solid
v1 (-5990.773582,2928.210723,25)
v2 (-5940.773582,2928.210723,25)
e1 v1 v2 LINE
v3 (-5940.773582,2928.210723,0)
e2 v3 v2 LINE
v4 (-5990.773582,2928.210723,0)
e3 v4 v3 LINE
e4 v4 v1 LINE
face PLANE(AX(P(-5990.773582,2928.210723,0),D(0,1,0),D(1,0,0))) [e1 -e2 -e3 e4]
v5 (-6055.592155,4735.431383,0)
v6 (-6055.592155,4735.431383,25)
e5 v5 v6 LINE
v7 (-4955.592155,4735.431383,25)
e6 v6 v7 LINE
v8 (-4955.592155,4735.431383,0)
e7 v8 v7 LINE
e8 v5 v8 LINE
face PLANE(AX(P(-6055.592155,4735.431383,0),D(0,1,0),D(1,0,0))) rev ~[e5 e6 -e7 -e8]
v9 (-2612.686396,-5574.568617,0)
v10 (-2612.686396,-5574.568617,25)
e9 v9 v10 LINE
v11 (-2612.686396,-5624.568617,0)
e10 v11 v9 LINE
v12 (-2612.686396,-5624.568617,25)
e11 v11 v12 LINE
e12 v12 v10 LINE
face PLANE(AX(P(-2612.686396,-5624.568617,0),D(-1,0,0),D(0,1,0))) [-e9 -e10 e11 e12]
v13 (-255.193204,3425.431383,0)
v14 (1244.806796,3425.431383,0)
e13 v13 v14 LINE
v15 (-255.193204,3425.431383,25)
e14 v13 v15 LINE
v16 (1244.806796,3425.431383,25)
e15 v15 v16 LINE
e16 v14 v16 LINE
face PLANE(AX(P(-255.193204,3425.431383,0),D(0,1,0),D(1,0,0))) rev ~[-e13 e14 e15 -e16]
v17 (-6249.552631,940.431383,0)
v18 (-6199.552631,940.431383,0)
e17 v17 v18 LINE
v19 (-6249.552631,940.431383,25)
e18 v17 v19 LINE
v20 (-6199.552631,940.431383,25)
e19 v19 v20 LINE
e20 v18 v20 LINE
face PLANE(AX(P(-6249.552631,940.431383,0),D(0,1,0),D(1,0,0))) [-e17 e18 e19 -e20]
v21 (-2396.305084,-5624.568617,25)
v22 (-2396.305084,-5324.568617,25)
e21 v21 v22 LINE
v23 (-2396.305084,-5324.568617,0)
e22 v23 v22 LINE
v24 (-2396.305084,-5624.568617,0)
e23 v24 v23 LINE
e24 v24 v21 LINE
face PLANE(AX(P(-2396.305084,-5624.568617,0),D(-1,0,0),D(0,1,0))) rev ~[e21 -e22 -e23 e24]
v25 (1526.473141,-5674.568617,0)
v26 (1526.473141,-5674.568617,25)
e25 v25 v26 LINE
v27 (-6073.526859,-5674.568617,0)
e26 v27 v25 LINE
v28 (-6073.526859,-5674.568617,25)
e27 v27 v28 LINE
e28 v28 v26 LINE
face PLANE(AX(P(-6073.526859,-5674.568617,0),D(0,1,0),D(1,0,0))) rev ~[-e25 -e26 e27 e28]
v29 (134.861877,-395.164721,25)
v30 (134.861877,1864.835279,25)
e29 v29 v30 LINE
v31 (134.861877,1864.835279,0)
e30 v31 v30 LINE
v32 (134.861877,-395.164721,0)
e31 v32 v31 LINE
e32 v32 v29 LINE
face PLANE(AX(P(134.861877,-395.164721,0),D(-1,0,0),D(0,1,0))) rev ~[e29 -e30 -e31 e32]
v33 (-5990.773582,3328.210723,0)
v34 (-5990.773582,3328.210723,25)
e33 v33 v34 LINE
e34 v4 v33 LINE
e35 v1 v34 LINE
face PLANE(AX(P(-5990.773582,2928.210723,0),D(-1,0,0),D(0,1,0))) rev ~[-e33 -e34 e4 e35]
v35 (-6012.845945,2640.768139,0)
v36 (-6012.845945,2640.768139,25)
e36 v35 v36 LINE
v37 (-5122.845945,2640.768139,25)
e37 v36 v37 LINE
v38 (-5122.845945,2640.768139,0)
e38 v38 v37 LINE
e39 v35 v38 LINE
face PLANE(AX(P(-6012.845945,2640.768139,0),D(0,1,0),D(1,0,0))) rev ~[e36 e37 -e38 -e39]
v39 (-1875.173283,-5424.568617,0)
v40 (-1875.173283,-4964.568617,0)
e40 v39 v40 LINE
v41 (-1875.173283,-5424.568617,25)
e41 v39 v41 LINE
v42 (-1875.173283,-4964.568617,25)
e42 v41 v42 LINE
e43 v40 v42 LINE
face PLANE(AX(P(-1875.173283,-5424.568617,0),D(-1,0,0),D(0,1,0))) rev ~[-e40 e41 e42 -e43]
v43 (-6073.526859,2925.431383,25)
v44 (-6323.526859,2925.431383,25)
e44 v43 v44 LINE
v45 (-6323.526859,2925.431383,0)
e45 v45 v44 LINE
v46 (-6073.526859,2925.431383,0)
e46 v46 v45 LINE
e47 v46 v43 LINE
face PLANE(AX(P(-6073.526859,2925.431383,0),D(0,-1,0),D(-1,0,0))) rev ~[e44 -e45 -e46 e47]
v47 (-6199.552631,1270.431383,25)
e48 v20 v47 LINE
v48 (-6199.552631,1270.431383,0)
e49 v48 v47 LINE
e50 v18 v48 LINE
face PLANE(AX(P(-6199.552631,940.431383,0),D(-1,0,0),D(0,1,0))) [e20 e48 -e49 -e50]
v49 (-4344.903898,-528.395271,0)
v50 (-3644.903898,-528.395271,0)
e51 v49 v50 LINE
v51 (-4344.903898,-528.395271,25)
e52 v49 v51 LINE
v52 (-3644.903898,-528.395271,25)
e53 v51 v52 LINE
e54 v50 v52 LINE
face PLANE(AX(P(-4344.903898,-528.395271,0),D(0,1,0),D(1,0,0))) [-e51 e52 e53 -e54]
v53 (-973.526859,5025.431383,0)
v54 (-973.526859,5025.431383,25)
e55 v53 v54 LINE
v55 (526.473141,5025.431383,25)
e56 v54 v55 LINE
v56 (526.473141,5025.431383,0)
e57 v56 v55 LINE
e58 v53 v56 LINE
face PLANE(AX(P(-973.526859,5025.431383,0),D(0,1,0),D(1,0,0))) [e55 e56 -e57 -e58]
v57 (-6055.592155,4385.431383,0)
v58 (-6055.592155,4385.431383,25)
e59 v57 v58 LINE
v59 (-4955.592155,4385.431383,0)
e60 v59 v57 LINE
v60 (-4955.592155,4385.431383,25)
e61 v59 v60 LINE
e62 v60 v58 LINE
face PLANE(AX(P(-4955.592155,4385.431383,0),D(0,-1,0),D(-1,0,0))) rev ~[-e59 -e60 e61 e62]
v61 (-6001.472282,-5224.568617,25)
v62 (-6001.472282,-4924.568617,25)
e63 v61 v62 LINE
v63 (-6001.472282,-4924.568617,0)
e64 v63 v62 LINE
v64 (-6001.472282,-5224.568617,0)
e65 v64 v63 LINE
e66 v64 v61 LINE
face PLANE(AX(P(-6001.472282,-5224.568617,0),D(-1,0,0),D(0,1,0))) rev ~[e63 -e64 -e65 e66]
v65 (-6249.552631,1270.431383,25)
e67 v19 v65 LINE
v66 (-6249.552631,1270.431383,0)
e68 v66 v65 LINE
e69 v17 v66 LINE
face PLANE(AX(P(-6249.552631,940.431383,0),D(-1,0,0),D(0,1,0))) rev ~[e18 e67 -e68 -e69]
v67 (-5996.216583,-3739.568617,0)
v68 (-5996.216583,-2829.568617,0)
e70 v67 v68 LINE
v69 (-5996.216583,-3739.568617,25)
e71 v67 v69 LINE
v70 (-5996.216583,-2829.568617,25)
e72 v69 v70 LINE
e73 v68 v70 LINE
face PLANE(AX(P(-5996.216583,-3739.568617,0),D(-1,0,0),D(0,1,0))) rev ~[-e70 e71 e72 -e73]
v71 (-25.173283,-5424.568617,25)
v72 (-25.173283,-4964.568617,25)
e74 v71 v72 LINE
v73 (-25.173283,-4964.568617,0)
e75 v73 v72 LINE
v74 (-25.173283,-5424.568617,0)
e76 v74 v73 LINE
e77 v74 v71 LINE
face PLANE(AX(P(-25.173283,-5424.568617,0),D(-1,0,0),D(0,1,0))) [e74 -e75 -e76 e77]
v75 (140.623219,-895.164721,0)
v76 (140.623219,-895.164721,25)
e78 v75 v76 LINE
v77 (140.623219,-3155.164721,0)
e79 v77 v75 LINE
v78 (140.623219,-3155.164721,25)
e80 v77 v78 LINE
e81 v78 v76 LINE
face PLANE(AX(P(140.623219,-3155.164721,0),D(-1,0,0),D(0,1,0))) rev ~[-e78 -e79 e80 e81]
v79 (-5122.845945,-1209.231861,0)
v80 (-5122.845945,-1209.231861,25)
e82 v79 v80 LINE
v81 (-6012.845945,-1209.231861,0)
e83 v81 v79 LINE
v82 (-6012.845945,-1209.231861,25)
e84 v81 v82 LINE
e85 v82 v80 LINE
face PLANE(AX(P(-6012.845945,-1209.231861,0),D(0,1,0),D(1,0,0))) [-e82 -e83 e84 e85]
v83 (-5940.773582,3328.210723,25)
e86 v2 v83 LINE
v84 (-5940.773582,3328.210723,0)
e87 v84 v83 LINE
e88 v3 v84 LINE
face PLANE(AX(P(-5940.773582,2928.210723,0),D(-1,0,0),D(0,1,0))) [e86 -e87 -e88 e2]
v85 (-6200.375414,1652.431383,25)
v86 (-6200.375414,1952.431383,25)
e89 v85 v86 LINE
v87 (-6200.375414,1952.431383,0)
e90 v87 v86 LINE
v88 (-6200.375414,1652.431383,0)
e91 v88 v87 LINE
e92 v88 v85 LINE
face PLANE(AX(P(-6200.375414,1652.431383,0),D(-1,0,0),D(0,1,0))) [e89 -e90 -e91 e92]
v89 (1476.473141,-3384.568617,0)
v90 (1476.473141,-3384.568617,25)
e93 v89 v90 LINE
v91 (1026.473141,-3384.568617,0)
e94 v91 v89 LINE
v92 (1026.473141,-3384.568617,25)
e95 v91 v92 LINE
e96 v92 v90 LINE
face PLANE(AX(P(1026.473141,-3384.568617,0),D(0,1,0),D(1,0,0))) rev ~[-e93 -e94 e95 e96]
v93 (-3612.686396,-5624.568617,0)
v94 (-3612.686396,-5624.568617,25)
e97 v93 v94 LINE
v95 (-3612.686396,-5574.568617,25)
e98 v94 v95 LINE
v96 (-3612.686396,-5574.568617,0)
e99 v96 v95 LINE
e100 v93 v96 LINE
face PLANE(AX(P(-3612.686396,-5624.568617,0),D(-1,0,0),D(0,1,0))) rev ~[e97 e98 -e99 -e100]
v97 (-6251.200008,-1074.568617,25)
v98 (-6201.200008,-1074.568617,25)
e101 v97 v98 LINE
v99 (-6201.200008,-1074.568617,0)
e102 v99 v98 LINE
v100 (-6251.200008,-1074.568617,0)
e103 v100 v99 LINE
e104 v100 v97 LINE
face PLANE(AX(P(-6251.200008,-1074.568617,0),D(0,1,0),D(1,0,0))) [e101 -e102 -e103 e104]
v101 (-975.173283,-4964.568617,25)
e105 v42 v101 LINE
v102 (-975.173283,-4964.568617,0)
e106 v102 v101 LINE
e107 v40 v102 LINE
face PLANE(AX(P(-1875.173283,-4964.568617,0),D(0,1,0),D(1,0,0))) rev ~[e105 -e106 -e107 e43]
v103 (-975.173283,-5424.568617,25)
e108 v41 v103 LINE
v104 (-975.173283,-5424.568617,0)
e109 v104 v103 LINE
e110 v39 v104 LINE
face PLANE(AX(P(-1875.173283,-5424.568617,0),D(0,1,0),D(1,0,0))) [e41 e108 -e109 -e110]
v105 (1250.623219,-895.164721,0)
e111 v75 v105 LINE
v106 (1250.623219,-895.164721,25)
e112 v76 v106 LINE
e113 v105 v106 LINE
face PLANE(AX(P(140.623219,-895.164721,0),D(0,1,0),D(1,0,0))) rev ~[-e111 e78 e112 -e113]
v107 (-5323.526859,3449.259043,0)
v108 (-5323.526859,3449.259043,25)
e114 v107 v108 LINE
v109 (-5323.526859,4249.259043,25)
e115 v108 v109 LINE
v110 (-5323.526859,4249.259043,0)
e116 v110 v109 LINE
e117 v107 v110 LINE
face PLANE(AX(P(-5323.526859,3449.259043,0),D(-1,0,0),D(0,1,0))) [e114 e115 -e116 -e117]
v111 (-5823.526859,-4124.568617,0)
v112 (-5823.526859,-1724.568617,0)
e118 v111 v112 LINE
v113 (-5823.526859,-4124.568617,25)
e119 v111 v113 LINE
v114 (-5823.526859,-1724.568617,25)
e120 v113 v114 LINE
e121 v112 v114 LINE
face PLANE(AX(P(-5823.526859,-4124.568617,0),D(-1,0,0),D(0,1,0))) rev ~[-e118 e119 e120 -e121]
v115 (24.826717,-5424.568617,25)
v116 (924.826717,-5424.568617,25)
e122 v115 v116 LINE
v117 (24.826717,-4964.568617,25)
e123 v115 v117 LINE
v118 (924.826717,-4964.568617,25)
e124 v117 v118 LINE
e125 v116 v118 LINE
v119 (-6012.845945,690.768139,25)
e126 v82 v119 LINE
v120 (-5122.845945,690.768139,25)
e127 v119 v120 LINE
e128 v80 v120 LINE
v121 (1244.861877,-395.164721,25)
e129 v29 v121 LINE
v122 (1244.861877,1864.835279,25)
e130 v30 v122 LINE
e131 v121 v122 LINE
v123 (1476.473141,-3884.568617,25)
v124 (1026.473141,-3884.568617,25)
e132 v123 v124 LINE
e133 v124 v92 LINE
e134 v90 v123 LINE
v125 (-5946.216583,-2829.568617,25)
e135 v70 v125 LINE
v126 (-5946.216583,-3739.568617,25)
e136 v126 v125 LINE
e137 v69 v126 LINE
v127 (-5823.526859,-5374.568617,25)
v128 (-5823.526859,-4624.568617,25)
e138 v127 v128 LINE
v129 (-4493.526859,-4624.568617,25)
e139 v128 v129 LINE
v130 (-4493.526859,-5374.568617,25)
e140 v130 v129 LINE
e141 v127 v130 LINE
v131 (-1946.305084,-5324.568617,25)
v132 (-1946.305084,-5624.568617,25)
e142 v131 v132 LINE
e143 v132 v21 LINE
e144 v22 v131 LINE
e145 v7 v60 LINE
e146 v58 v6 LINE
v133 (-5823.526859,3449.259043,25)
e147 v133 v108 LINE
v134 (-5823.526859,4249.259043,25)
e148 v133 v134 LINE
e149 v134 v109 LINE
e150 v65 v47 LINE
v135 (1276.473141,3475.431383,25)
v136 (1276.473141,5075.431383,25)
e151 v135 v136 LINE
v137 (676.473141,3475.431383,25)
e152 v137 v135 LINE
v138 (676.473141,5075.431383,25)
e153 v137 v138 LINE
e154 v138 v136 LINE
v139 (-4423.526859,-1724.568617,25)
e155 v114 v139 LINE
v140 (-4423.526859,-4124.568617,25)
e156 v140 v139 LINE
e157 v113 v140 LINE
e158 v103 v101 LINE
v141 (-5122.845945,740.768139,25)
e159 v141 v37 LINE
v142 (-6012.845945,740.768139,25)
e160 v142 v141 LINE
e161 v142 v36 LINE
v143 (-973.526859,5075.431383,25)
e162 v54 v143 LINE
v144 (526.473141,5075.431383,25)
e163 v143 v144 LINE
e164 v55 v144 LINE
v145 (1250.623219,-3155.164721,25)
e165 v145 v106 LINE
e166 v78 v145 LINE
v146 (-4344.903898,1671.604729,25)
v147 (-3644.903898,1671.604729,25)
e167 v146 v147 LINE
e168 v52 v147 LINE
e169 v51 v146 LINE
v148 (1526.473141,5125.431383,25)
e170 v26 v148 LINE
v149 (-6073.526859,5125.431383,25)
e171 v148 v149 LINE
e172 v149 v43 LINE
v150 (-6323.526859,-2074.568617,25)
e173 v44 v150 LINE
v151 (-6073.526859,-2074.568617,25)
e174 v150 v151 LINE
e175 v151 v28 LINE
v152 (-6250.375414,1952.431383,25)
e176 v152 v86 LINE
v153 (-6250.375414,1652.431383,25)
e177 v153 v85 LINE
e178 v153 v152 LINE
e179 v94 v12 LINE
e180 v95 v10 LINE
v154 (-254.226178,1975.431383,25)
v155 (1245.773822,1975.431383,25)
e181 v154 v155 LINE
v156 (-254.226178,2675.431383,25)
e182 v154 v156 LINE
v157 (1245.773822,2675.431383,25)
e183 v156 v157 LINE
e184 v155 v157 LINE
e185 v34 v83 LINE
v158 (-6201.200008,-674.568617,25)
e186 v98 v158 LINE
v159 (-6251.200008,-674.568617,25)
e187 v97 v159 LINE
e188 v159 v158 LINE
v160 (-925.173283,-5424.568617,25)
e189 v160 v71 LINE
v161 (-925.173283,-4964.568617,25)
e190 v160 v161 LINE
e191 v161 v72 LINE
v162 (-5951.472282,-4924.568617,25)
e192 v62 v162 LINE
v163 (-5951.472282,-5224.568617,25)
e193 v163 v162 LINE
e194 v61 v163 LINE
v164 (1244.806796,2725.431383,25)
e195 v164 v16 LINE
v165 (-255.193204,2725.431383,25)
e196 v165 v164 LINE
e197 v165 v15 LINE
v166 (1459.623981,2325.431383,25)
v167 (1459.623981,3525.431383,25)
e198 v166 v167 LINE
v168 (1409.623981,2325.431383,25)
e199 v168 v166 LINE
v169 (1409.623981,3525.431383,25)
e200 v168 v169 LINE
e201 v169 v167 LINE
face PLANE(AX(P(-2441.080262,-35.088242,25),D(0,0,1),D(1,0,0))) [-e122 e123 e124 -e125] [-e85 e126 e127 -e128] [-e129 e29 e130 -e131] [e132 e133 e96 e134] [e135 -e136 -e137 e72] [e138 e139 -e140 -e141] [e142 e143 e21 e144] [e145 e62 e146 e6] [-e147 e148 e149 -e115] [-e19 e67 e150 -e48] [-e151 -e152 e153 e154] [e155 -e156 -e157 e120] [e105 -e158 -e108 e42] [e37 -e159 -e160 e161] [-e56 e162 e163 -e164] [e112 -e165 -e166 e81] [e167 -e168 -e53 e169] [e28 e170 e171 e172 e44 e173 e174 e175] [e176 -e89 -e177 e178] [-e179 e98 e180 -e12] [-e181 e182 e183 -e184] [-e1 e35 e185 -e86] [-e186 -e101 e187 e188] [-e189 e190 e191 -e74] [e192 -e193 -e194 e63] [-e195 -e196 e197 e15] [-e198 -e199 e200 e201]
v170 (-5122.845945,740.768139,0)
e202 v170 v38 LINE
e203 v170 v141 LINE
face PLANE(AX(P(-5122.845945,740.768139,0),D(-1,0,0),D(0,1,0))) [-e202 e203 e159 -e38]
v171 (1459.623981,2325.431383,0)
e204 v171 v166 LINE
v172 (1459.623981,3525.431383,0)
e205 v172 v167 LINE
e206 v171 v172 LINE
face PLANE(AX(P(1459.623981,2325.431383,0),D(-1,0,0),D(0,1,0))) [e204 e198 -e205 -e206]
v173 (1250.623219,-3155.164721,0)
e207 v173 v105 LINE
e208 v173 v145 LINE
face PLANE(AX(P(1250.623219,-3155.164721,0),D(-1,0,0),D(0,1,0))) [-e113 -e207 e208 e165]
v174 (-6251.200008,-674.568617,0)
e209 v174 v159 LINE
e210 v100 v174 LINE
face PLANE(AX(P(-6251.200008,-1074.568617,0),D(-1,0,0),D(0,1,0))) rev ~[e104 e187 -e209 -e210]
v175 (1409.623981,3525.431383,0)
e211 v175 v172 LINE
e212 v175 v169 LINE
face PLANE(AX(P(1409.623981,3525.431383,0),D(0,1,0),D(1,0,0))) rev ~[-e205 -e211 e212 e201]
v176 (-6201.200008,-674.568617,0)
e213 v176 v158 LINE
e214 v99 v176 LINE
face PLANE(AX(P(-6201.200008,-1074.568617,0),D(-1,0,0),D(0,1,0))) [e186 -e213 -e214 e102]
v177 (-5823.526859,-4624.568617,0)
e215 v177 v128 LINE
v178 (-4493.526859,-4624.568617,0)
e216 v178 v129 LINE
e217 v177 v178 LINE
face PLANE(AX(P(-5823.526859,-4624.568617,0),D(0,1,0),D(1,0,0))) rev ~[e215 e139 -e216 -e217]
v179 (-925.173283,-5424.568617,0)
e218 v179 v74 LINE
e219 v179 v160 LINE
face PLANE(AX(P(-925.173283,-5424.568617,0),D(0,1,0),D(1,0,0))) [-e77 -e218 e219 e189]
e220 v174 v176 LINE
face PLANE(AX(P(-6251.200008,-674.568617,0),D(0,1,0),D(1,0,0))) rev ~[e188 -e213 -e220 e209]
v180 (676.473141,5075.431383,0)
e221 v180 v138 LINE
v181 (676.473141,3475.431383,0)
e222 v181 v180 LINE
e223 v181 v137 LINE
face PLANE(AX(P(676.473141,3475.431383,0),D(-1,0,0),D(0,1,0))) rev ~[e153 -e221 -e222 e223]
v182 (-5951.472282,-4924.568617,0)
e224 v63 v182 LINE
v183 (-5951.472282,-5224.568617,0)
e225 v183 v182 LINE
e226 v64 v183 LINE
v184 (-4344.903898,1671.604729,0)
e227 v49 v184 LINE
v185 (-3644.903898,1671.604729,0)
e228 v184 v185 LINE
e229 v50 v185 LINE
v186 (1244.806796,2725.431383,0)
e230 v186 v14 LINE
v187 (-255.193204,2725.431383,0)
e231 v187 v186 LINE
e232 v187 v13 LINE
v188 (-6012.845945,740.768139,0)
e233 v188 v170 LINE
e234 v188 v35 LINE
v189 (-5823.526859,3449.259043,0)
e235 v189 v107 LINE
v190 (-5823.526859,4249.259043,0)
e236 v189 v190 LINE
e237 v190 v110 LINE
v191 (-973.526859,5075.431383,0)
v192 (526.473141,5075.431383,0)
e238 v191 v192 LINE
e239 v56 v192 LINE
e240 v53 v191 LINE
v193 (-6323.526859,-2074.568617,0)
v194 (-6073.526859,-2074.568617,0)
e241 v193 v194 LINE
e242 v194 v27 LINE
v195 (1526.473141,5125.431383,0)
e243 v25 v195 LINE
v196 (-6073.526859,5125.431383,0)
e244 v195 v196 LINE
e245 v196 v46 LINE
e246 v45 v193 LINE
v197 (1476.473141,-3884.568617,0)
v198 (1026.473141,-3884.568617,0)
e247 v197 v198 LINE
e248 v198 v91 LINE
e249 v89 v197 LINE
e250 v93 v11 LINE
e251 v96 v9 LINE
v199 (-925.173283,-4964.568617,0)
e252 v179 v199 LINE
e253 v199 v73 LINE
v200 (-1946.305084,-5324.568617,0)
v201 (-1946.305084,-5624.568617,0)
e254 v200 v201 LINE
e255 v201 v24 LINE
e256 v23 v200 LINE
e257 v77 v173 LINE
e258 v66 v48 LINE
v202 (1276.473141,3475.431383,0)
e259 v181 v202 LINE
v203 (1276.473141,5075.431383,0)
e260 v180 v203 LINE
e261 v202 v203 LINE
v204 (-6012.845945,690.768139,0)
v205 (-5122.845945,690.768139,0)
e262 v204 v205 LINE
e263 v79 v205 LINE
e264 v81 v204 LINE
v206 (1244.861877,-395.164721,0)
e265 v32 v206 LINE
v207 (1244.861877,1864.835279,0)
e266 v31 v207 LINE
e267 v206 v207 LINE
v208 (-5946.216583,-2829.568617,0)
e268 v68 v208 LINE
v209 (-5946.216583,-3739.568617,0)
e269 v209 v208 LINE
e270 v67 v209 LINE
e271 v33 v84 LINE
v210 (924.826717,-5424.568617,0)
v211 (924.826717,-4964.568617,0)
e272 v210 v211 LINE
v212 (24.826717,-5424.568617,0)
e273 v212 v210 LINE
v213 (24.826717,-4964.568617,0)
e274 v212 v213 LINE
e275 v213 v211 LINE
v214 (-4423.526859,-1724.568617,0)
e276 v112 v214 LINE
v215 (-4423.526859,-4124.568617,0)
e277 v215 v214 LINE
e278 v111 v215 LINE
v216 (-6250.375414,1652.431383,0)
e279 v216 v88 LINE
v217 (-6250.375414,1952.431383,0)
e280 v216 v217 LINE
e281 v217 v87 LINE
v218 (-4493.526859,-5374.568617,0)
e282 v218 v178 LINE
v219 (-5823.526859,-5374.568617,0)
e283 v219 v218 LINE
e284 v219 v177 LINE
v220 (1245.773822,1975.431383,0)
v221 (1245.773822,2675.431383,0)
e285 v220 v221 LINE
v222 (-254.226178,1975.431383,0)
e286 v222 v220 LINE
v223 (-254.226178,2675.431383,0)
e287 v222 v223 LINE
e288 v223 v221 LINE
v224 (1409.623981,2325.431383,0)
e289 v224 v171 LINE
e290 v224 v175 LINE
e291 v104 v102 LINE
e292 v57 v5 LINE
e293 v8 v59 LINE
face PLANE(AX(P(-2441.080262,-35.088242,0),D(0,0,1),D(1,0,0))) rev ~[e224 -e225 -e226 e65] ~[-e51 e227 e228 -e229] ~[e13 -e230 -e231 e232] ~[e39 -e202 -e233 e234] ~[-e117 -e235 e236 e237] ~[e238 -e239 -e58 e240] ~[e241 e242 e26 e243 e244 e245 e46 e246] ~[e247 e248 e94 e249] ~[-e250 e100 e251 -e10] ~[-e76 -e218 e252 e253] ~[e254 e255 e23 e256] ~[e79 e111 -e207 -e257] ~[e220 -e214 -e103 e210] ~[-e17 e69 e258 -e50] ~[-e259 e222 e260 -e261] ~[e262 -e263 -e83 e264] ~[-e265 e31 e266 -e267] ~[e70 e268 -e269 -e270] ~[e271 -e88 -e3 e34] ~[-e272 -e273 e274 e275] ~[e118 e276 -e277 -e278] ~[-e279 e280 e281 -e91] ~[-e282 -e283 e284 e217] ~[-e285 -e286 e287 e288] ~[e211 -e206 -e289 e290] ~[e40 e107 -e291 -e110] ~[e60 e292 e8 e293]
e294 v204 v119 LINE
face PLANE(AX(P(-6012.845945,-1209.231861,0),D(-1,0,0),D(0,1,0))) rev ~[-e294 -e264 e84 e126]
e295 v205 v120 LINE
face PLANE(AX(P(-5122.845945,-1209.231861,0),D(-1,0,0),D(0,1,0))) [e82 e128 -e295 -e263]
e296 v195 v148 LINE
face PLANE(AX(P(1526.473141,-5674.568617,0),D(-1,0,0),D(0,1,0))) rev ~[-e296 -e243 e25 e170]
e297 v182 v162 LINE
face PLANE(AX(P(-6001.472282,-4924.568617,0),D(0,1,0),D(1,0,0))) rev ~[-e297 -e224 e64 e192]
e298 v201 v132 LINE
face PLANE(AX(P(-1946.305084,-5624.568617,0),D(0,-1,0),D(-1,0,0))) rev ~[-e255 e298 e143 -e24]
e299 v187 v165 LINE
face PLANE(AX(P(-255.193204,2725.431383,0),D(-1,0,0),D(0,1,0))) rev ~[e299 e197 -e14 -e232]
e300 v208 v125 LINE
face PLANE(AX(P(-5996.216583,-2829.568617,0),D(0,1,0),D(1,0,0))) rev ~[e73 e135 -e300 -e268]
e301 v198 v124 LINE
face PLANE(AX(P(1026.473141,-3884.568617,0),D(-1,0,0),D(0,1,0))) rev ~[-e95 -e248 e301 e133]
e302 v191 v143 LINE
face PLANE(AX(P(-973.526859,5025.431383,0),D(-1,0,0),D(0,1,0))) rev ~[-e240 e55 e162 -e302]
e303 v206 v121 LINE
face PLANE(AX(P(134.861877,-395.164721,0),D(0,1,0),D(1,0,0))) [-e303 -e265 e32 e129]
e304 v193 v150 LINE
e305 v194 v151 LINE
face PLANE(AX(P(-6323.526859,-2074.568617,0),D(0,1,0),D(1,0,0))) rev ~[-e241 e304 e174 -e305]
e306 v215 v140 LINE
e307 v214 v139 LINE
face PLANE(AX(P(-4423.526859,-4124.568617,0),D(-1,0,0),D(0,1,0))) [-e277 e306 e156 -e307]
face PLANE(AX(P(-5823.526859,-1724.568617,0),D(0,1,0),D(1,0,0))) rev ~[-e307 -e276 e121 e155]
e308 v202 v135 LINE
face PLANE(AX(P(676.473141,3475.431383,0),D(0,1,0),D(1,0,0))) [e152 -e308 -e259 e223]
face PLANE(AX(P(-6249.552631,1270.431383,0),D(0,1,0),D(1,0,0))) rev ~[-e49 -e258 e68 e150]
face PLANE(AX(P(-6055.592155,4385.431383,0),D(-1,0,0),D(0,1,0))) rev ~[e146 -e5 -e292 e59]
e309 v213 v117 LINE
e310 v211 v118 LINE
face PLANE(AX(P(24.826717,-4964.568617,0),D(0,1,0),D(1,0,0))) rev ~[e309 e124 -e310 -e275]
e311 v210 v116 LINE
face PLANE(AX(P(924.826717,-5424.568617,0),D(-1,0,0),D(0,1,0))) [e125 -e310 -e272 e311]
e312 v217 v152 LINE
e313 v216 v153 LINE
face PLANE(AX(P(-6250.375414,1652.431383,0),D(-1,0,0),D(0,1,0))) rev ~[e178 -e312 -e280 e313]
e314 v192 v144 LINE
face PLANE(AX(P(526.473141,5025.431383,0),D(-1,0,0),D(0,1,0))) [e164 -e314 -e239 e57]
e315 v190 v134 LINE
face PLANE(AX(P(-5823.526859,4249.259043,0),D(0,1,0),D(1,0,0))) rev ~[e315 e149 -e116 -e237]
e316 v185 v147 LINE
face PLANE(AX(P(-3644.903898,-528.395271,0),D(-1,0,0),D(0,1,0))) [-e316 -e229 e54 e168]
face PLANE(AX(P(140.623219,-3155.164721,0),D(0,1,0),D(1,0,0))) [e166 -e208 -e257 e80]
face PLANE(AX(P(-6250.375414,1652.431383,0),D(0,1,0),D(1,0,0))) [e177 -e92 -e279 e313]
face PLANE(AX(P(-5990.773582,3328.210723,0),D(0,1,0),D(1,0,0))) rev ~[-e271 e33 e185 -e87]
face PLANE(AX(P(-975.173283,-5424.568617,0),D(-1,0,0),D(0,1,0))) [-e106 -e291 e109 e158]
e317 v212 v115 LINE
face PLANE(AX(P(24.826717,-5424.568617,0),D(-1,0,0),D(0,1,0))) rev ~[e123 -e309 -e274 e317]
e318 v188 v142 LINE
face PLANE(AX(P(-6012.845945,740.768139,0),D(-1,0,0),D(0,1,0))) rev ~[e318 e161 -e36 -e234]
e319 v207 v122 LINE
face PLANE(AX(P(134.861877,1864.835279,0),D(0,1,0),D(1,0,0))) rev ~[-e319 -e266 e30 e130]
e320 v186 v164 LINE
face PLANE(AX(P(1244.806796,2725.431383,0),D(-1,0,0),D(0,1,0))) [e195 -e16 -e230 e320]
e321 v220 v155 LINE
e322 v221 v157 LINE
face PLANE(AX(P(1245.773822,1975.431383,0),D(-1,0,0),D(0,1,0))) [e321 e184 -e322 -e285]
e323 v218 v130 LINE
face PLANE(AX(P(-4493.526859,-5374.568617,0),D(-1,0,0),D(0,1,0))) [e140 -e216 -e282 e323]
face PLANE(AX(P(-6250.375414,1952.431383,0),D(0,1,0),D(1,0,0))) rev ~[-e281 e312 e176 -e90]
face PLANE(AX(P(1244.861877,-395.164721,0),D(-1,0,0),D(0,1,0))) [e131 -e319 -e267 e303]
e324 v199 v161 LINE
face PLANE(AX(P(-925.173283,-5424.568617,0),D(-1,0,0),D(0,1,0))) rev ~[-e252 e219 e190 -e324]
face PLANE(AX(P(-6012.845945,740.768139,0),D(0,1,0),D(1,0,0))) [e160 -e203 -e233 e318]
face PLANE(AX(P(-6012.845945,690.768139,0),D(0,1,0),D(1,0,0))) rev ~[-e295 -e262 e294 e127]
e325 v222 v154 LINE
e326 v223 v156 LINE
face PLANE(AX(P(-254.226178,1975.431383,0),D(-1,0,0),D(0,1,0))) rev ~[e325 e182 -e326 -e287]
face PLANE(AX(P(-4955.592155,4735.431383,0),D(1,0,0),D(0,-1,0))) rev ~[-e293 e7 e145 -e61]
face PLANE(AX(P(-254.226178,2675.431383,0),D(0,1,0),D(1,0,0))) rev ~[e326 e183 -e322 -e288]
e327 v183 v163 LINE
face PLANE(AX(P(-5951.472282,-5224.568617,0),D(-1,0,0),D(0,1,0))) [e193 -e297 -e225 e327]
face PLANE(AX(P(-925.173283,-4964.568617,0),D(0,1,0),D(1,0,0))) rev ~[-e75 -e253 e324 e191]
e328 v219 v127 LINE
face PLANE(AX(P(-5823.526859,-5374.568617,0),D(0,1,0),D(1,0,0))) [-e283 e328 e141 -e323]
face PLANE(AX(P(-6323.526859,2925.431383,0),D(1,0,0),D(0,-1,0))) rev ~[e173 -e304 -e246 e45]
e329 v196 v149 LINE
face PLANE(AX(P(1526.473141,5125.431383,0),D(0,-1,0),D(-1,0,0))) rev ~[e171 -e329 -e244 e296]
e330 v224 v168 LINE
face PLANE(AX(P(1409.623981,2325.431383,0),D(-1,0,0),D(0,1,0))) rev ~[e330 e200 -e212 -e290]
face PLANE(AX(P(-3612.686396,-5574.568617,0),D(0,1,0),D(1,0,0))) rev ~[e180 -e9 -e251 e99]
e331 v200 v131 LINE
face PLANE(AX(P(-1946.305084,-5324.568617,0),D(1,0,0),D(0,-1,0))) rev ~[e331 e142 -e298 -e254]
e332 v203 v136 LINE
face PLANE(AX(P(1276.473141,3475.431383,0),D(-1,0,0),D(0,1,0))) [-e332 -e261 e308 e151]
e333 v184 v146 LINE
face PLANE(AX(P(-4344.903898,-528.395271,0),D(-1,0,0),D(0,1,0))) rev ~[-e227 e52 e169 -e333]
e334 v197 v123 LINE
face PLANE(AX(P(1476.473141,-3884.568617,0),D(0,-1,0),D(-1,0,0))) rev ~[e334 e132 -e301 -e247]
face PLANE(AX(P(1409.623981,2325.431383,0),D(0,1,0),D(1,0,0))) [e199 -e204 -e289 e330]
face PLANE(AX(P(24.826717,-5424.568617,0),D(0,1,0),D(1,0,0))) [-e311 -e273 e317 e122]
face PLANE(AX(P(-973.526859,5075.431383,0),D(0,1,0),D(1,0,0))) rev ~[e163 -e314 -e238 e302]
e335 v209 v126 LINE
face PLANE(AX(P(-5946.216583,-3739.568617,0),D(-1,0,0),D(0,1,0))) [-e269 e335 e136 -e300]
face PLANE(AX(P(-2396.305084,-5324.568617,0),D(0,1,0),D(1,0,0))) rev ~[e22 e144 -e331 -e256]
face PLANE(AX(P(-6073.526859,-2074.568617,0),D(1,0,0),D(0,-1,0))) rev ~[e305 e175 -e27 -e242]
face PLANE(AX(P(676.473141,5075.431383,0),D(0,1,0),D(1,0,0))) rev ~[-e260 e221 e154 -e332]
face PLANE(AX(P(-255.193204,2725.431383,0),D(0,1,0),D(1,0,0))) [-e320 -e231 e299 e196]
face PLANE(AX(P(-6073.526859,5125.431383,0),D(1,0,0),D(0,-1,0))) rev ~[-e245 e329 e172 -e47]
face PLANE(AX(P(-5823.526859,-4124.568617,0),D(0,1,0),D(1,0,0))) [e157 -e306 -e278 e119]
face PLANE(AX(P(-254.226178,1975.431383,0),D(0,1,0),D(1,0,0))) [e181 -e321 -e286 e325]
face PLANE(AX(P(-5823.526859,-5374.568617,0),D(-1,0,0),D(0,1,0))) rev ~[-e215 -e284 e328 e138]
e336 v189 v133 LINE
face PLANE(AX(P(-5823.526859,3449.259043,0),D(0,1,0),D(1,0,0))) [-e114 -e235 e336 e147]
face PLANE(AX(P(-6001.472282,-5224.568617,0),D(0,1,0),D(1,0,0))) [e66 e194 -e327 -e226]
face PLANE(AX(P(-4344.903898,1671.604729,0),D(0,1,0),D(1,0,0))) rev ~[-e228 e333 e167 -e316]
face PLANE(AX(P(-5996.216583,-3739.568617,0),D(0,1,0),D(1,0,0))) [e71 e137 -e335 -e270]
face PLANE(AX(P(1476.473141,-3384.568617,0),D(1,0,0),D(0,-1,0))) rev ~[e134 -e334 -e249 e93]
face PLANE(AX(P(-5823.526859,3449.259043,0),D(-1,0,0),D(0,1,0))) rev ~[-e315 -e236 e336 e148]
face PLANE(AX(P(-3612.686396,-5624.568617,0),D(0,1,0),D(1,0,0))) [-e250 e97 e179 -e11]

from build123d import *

# Parameters (mm, degrees)
F0_W     = 1330
F0_H     = 750
F0_W_2   = 1400
F0_H_2   = 2400
F0_W_3   = 900
F0_H_3   = 460
F0_W_4   = 1110
F0_H_4   = 2260
F0_W_5   = 890
F0_H_5   = 1900
F0_W_6   = 700
F0_H_6   = 2200
F0_W_7   = 500
F0_H_7   = 800
F0_W_8   = 1500
F0_H_8   = 700
F0_H_9   = 50
F0_W_9   = 600
F0_H_10  = 1600
F0_W_10  = 50
F0_H_11  = 300
F0_H_12  = 910
F0_W_11  = 1000
F0_H_13  = 400
F0_H_14  = 330
F0_H_15  = 1200
F1_DEPTH = 25


with BuildPart() as f1:
    # F0 (on Top) → F1 (new body)
    with BuildSketch(Plane.XY):
        Polygon((1326.473141, 5125.431383), (-5873.526859, 5125.431383), (-5873.526859, 4735.431383), (-4955.592155, 4735.431383), (-4955.592155, 4385.431383), (-5873.526859, 4385.431383), (-5873.526859, 2725.431383), (-6123.526859, 2725.431383), (-6123.526859, -1874.568617), (-5873.526859, -1874.568617), (-5873.526859, -5474.568617), (-2396.305084, -5474.568617), (-2396.305084, -5324.568617), (-1946.305084, -5324.568617), (-1946.305084, -5474.568617), (1326.473141, -5474.568617), (1326.473141, -3884.568617), (1026.473141, -3884.568617), (1026.473141, -3384.568617), (1326.473141, -3384.568617), align=None)
        with Locations((-5158.526859, -4999.568617)):
            Rectangle(F0_W, F0_H, mode=Mode.SUBTRACT)
        with Locations((-5123.526859, -2924.568617)):
            Rectangle(F0_W_2, F0_H_2, mode=Mode.SUBTRACT)
        with Locations((-1425.173283, -5194.568617)):
            Rectangle(F0_W_3, F0_H_3, mode=Mode.SUBTRACT)
        with Locations((-475.173283, -5194.568617)):
            Rectangle(F0_W_3, F0_H_3, mode=Mode.SUBTRACT)
        with Locations((474.826717, -5194.568617)):
            Rectangle(F0_W_3, F0_H_3, mode=Mode.SUBTRACT)
        with Locations((695.623219, -2025.164721)):
            Rectangle(F0_W_4, F0_H_4, mode=Mode.SUBTRACT)
        with Locations((-5567.845945, -259.231861)):
            Rectangle(F0_W_5, F0_H_5, mode=Mode.SUBTRACT)
        with Locations((-5567.845945, 1690.768139)):
            Rectangle(F0_W_5, F0_H_5, mode=Mode.SUBTRACT)
        with Locations((-3994.903898, 571.604729)):
            Rectangle(F0_W_6, F0_H_6, mode=Mode.SUBTRACT)
        with Locations((-5573.526859, 3849.259043)):
            Rectangle(F0_W_7, F0_H_7, mode=Mode.SUBTRACT)
        with Locations((689.861877, 734.835279)):
            Rectangle(F0_W_4, F0_H_4, mode=Mode.SUBTRACT)
        with Locations((495.773822, 2325.431383)):
            Rectangle(F0_W_8, F0_H_8, mode=Mode.SUBTRACT)
        with Locations((494.806796, 3075.431383)):
            Rectangle(F0_W_8, F0_H_8, mode=Mode.SUBTRACT)
        with Locations((-223.526859, 5050.431383)):
            Rectangle(F0_W_8, F0_H_9, mode=Mode.SUBTRACT)
        with Locations((976.473141, 4275.431383)):
            Rectangle(F0_W_9, F0_H_10, mode=Mode.SUBTRACT)
        Polygon((-5873.526859, 4735.431383), (-5873.526859, 5125.431383), (-6073.526859, 5125.431383), (-6073.526859, 2925.431383), (-6323.526859, 2925.431383), (-6323.526859, -2074.568617), (-6073.526859, -2074.568617), (-6073.526859, -5674.568617), (1526.473141, -5674.568617), (1526.473141, 5125.431383), (1326.473141, 5125.431383), (1326.473141, -3384.568617), (1476.473141, -3384.568617), (1476.473141, -3884.568617), (1326.473141, -3884.568617), (1326.473141, -5474.568617), (-1946.305084, -5474.568617), (-1946.305084, -5624.568617), (-2396.305084, -5624.568617), (-2396.305084, -5474.568617), (-5873.526859, -5474.568617), (-5873.526859, -1874.568617), (-6123.526859, -1874.568617), (-6123.526859, 2725.431383), (-5873.526859, 2725.431383), (-5873.526859, 4385.431383), (-6055.592155, 4385.431383), (-6055.592155, 4735.431383), align=None)
        with Locations((-5976.472282, -5074.568617)):
            Rectangle(F0_W_10, F0_H_11, mode=Mode.SUBTRACT)
        with Locations((-5971.216583, -3284.568617)):
            Rectangle(F0_W_10, F0_H_12, mode=Mode.SUBTRACT)
        with Locations((-3112.686396, -5599.568617)):
            Rectangle(F0_W_11, F0_H_9, mode=Mode.SUBTRACT)
        with Locations((-6226.200008, -874.568617)):
            Rectangle(F0_W_10, F0_H_13, mode=Mode.SUBTRACT)
        with Locations((-6224.552631, 1105.431383)):
            Rectangle(F0_W_10, F0_H_14, mode=Mode.SUBTRACT)
        with Locations((-6225.375414, 1802.431383)):
            Rectangle(F0_W_10, F0_H_11, mode=Mode.SUBTRACT)
        with Locations((-5965.773582, 3128.210723)):
            Rectangle(F0_W_10, F0_H_13, mode=Mode.SUBTRACT)
        with Locations((1434.623981, 2925.431383)):
            Rectangle(F0_W_10, F0_H_15, mode=Mode.SUBTRACT)
    extrude(amount=F1_DEPTH)


solid = f1.part
